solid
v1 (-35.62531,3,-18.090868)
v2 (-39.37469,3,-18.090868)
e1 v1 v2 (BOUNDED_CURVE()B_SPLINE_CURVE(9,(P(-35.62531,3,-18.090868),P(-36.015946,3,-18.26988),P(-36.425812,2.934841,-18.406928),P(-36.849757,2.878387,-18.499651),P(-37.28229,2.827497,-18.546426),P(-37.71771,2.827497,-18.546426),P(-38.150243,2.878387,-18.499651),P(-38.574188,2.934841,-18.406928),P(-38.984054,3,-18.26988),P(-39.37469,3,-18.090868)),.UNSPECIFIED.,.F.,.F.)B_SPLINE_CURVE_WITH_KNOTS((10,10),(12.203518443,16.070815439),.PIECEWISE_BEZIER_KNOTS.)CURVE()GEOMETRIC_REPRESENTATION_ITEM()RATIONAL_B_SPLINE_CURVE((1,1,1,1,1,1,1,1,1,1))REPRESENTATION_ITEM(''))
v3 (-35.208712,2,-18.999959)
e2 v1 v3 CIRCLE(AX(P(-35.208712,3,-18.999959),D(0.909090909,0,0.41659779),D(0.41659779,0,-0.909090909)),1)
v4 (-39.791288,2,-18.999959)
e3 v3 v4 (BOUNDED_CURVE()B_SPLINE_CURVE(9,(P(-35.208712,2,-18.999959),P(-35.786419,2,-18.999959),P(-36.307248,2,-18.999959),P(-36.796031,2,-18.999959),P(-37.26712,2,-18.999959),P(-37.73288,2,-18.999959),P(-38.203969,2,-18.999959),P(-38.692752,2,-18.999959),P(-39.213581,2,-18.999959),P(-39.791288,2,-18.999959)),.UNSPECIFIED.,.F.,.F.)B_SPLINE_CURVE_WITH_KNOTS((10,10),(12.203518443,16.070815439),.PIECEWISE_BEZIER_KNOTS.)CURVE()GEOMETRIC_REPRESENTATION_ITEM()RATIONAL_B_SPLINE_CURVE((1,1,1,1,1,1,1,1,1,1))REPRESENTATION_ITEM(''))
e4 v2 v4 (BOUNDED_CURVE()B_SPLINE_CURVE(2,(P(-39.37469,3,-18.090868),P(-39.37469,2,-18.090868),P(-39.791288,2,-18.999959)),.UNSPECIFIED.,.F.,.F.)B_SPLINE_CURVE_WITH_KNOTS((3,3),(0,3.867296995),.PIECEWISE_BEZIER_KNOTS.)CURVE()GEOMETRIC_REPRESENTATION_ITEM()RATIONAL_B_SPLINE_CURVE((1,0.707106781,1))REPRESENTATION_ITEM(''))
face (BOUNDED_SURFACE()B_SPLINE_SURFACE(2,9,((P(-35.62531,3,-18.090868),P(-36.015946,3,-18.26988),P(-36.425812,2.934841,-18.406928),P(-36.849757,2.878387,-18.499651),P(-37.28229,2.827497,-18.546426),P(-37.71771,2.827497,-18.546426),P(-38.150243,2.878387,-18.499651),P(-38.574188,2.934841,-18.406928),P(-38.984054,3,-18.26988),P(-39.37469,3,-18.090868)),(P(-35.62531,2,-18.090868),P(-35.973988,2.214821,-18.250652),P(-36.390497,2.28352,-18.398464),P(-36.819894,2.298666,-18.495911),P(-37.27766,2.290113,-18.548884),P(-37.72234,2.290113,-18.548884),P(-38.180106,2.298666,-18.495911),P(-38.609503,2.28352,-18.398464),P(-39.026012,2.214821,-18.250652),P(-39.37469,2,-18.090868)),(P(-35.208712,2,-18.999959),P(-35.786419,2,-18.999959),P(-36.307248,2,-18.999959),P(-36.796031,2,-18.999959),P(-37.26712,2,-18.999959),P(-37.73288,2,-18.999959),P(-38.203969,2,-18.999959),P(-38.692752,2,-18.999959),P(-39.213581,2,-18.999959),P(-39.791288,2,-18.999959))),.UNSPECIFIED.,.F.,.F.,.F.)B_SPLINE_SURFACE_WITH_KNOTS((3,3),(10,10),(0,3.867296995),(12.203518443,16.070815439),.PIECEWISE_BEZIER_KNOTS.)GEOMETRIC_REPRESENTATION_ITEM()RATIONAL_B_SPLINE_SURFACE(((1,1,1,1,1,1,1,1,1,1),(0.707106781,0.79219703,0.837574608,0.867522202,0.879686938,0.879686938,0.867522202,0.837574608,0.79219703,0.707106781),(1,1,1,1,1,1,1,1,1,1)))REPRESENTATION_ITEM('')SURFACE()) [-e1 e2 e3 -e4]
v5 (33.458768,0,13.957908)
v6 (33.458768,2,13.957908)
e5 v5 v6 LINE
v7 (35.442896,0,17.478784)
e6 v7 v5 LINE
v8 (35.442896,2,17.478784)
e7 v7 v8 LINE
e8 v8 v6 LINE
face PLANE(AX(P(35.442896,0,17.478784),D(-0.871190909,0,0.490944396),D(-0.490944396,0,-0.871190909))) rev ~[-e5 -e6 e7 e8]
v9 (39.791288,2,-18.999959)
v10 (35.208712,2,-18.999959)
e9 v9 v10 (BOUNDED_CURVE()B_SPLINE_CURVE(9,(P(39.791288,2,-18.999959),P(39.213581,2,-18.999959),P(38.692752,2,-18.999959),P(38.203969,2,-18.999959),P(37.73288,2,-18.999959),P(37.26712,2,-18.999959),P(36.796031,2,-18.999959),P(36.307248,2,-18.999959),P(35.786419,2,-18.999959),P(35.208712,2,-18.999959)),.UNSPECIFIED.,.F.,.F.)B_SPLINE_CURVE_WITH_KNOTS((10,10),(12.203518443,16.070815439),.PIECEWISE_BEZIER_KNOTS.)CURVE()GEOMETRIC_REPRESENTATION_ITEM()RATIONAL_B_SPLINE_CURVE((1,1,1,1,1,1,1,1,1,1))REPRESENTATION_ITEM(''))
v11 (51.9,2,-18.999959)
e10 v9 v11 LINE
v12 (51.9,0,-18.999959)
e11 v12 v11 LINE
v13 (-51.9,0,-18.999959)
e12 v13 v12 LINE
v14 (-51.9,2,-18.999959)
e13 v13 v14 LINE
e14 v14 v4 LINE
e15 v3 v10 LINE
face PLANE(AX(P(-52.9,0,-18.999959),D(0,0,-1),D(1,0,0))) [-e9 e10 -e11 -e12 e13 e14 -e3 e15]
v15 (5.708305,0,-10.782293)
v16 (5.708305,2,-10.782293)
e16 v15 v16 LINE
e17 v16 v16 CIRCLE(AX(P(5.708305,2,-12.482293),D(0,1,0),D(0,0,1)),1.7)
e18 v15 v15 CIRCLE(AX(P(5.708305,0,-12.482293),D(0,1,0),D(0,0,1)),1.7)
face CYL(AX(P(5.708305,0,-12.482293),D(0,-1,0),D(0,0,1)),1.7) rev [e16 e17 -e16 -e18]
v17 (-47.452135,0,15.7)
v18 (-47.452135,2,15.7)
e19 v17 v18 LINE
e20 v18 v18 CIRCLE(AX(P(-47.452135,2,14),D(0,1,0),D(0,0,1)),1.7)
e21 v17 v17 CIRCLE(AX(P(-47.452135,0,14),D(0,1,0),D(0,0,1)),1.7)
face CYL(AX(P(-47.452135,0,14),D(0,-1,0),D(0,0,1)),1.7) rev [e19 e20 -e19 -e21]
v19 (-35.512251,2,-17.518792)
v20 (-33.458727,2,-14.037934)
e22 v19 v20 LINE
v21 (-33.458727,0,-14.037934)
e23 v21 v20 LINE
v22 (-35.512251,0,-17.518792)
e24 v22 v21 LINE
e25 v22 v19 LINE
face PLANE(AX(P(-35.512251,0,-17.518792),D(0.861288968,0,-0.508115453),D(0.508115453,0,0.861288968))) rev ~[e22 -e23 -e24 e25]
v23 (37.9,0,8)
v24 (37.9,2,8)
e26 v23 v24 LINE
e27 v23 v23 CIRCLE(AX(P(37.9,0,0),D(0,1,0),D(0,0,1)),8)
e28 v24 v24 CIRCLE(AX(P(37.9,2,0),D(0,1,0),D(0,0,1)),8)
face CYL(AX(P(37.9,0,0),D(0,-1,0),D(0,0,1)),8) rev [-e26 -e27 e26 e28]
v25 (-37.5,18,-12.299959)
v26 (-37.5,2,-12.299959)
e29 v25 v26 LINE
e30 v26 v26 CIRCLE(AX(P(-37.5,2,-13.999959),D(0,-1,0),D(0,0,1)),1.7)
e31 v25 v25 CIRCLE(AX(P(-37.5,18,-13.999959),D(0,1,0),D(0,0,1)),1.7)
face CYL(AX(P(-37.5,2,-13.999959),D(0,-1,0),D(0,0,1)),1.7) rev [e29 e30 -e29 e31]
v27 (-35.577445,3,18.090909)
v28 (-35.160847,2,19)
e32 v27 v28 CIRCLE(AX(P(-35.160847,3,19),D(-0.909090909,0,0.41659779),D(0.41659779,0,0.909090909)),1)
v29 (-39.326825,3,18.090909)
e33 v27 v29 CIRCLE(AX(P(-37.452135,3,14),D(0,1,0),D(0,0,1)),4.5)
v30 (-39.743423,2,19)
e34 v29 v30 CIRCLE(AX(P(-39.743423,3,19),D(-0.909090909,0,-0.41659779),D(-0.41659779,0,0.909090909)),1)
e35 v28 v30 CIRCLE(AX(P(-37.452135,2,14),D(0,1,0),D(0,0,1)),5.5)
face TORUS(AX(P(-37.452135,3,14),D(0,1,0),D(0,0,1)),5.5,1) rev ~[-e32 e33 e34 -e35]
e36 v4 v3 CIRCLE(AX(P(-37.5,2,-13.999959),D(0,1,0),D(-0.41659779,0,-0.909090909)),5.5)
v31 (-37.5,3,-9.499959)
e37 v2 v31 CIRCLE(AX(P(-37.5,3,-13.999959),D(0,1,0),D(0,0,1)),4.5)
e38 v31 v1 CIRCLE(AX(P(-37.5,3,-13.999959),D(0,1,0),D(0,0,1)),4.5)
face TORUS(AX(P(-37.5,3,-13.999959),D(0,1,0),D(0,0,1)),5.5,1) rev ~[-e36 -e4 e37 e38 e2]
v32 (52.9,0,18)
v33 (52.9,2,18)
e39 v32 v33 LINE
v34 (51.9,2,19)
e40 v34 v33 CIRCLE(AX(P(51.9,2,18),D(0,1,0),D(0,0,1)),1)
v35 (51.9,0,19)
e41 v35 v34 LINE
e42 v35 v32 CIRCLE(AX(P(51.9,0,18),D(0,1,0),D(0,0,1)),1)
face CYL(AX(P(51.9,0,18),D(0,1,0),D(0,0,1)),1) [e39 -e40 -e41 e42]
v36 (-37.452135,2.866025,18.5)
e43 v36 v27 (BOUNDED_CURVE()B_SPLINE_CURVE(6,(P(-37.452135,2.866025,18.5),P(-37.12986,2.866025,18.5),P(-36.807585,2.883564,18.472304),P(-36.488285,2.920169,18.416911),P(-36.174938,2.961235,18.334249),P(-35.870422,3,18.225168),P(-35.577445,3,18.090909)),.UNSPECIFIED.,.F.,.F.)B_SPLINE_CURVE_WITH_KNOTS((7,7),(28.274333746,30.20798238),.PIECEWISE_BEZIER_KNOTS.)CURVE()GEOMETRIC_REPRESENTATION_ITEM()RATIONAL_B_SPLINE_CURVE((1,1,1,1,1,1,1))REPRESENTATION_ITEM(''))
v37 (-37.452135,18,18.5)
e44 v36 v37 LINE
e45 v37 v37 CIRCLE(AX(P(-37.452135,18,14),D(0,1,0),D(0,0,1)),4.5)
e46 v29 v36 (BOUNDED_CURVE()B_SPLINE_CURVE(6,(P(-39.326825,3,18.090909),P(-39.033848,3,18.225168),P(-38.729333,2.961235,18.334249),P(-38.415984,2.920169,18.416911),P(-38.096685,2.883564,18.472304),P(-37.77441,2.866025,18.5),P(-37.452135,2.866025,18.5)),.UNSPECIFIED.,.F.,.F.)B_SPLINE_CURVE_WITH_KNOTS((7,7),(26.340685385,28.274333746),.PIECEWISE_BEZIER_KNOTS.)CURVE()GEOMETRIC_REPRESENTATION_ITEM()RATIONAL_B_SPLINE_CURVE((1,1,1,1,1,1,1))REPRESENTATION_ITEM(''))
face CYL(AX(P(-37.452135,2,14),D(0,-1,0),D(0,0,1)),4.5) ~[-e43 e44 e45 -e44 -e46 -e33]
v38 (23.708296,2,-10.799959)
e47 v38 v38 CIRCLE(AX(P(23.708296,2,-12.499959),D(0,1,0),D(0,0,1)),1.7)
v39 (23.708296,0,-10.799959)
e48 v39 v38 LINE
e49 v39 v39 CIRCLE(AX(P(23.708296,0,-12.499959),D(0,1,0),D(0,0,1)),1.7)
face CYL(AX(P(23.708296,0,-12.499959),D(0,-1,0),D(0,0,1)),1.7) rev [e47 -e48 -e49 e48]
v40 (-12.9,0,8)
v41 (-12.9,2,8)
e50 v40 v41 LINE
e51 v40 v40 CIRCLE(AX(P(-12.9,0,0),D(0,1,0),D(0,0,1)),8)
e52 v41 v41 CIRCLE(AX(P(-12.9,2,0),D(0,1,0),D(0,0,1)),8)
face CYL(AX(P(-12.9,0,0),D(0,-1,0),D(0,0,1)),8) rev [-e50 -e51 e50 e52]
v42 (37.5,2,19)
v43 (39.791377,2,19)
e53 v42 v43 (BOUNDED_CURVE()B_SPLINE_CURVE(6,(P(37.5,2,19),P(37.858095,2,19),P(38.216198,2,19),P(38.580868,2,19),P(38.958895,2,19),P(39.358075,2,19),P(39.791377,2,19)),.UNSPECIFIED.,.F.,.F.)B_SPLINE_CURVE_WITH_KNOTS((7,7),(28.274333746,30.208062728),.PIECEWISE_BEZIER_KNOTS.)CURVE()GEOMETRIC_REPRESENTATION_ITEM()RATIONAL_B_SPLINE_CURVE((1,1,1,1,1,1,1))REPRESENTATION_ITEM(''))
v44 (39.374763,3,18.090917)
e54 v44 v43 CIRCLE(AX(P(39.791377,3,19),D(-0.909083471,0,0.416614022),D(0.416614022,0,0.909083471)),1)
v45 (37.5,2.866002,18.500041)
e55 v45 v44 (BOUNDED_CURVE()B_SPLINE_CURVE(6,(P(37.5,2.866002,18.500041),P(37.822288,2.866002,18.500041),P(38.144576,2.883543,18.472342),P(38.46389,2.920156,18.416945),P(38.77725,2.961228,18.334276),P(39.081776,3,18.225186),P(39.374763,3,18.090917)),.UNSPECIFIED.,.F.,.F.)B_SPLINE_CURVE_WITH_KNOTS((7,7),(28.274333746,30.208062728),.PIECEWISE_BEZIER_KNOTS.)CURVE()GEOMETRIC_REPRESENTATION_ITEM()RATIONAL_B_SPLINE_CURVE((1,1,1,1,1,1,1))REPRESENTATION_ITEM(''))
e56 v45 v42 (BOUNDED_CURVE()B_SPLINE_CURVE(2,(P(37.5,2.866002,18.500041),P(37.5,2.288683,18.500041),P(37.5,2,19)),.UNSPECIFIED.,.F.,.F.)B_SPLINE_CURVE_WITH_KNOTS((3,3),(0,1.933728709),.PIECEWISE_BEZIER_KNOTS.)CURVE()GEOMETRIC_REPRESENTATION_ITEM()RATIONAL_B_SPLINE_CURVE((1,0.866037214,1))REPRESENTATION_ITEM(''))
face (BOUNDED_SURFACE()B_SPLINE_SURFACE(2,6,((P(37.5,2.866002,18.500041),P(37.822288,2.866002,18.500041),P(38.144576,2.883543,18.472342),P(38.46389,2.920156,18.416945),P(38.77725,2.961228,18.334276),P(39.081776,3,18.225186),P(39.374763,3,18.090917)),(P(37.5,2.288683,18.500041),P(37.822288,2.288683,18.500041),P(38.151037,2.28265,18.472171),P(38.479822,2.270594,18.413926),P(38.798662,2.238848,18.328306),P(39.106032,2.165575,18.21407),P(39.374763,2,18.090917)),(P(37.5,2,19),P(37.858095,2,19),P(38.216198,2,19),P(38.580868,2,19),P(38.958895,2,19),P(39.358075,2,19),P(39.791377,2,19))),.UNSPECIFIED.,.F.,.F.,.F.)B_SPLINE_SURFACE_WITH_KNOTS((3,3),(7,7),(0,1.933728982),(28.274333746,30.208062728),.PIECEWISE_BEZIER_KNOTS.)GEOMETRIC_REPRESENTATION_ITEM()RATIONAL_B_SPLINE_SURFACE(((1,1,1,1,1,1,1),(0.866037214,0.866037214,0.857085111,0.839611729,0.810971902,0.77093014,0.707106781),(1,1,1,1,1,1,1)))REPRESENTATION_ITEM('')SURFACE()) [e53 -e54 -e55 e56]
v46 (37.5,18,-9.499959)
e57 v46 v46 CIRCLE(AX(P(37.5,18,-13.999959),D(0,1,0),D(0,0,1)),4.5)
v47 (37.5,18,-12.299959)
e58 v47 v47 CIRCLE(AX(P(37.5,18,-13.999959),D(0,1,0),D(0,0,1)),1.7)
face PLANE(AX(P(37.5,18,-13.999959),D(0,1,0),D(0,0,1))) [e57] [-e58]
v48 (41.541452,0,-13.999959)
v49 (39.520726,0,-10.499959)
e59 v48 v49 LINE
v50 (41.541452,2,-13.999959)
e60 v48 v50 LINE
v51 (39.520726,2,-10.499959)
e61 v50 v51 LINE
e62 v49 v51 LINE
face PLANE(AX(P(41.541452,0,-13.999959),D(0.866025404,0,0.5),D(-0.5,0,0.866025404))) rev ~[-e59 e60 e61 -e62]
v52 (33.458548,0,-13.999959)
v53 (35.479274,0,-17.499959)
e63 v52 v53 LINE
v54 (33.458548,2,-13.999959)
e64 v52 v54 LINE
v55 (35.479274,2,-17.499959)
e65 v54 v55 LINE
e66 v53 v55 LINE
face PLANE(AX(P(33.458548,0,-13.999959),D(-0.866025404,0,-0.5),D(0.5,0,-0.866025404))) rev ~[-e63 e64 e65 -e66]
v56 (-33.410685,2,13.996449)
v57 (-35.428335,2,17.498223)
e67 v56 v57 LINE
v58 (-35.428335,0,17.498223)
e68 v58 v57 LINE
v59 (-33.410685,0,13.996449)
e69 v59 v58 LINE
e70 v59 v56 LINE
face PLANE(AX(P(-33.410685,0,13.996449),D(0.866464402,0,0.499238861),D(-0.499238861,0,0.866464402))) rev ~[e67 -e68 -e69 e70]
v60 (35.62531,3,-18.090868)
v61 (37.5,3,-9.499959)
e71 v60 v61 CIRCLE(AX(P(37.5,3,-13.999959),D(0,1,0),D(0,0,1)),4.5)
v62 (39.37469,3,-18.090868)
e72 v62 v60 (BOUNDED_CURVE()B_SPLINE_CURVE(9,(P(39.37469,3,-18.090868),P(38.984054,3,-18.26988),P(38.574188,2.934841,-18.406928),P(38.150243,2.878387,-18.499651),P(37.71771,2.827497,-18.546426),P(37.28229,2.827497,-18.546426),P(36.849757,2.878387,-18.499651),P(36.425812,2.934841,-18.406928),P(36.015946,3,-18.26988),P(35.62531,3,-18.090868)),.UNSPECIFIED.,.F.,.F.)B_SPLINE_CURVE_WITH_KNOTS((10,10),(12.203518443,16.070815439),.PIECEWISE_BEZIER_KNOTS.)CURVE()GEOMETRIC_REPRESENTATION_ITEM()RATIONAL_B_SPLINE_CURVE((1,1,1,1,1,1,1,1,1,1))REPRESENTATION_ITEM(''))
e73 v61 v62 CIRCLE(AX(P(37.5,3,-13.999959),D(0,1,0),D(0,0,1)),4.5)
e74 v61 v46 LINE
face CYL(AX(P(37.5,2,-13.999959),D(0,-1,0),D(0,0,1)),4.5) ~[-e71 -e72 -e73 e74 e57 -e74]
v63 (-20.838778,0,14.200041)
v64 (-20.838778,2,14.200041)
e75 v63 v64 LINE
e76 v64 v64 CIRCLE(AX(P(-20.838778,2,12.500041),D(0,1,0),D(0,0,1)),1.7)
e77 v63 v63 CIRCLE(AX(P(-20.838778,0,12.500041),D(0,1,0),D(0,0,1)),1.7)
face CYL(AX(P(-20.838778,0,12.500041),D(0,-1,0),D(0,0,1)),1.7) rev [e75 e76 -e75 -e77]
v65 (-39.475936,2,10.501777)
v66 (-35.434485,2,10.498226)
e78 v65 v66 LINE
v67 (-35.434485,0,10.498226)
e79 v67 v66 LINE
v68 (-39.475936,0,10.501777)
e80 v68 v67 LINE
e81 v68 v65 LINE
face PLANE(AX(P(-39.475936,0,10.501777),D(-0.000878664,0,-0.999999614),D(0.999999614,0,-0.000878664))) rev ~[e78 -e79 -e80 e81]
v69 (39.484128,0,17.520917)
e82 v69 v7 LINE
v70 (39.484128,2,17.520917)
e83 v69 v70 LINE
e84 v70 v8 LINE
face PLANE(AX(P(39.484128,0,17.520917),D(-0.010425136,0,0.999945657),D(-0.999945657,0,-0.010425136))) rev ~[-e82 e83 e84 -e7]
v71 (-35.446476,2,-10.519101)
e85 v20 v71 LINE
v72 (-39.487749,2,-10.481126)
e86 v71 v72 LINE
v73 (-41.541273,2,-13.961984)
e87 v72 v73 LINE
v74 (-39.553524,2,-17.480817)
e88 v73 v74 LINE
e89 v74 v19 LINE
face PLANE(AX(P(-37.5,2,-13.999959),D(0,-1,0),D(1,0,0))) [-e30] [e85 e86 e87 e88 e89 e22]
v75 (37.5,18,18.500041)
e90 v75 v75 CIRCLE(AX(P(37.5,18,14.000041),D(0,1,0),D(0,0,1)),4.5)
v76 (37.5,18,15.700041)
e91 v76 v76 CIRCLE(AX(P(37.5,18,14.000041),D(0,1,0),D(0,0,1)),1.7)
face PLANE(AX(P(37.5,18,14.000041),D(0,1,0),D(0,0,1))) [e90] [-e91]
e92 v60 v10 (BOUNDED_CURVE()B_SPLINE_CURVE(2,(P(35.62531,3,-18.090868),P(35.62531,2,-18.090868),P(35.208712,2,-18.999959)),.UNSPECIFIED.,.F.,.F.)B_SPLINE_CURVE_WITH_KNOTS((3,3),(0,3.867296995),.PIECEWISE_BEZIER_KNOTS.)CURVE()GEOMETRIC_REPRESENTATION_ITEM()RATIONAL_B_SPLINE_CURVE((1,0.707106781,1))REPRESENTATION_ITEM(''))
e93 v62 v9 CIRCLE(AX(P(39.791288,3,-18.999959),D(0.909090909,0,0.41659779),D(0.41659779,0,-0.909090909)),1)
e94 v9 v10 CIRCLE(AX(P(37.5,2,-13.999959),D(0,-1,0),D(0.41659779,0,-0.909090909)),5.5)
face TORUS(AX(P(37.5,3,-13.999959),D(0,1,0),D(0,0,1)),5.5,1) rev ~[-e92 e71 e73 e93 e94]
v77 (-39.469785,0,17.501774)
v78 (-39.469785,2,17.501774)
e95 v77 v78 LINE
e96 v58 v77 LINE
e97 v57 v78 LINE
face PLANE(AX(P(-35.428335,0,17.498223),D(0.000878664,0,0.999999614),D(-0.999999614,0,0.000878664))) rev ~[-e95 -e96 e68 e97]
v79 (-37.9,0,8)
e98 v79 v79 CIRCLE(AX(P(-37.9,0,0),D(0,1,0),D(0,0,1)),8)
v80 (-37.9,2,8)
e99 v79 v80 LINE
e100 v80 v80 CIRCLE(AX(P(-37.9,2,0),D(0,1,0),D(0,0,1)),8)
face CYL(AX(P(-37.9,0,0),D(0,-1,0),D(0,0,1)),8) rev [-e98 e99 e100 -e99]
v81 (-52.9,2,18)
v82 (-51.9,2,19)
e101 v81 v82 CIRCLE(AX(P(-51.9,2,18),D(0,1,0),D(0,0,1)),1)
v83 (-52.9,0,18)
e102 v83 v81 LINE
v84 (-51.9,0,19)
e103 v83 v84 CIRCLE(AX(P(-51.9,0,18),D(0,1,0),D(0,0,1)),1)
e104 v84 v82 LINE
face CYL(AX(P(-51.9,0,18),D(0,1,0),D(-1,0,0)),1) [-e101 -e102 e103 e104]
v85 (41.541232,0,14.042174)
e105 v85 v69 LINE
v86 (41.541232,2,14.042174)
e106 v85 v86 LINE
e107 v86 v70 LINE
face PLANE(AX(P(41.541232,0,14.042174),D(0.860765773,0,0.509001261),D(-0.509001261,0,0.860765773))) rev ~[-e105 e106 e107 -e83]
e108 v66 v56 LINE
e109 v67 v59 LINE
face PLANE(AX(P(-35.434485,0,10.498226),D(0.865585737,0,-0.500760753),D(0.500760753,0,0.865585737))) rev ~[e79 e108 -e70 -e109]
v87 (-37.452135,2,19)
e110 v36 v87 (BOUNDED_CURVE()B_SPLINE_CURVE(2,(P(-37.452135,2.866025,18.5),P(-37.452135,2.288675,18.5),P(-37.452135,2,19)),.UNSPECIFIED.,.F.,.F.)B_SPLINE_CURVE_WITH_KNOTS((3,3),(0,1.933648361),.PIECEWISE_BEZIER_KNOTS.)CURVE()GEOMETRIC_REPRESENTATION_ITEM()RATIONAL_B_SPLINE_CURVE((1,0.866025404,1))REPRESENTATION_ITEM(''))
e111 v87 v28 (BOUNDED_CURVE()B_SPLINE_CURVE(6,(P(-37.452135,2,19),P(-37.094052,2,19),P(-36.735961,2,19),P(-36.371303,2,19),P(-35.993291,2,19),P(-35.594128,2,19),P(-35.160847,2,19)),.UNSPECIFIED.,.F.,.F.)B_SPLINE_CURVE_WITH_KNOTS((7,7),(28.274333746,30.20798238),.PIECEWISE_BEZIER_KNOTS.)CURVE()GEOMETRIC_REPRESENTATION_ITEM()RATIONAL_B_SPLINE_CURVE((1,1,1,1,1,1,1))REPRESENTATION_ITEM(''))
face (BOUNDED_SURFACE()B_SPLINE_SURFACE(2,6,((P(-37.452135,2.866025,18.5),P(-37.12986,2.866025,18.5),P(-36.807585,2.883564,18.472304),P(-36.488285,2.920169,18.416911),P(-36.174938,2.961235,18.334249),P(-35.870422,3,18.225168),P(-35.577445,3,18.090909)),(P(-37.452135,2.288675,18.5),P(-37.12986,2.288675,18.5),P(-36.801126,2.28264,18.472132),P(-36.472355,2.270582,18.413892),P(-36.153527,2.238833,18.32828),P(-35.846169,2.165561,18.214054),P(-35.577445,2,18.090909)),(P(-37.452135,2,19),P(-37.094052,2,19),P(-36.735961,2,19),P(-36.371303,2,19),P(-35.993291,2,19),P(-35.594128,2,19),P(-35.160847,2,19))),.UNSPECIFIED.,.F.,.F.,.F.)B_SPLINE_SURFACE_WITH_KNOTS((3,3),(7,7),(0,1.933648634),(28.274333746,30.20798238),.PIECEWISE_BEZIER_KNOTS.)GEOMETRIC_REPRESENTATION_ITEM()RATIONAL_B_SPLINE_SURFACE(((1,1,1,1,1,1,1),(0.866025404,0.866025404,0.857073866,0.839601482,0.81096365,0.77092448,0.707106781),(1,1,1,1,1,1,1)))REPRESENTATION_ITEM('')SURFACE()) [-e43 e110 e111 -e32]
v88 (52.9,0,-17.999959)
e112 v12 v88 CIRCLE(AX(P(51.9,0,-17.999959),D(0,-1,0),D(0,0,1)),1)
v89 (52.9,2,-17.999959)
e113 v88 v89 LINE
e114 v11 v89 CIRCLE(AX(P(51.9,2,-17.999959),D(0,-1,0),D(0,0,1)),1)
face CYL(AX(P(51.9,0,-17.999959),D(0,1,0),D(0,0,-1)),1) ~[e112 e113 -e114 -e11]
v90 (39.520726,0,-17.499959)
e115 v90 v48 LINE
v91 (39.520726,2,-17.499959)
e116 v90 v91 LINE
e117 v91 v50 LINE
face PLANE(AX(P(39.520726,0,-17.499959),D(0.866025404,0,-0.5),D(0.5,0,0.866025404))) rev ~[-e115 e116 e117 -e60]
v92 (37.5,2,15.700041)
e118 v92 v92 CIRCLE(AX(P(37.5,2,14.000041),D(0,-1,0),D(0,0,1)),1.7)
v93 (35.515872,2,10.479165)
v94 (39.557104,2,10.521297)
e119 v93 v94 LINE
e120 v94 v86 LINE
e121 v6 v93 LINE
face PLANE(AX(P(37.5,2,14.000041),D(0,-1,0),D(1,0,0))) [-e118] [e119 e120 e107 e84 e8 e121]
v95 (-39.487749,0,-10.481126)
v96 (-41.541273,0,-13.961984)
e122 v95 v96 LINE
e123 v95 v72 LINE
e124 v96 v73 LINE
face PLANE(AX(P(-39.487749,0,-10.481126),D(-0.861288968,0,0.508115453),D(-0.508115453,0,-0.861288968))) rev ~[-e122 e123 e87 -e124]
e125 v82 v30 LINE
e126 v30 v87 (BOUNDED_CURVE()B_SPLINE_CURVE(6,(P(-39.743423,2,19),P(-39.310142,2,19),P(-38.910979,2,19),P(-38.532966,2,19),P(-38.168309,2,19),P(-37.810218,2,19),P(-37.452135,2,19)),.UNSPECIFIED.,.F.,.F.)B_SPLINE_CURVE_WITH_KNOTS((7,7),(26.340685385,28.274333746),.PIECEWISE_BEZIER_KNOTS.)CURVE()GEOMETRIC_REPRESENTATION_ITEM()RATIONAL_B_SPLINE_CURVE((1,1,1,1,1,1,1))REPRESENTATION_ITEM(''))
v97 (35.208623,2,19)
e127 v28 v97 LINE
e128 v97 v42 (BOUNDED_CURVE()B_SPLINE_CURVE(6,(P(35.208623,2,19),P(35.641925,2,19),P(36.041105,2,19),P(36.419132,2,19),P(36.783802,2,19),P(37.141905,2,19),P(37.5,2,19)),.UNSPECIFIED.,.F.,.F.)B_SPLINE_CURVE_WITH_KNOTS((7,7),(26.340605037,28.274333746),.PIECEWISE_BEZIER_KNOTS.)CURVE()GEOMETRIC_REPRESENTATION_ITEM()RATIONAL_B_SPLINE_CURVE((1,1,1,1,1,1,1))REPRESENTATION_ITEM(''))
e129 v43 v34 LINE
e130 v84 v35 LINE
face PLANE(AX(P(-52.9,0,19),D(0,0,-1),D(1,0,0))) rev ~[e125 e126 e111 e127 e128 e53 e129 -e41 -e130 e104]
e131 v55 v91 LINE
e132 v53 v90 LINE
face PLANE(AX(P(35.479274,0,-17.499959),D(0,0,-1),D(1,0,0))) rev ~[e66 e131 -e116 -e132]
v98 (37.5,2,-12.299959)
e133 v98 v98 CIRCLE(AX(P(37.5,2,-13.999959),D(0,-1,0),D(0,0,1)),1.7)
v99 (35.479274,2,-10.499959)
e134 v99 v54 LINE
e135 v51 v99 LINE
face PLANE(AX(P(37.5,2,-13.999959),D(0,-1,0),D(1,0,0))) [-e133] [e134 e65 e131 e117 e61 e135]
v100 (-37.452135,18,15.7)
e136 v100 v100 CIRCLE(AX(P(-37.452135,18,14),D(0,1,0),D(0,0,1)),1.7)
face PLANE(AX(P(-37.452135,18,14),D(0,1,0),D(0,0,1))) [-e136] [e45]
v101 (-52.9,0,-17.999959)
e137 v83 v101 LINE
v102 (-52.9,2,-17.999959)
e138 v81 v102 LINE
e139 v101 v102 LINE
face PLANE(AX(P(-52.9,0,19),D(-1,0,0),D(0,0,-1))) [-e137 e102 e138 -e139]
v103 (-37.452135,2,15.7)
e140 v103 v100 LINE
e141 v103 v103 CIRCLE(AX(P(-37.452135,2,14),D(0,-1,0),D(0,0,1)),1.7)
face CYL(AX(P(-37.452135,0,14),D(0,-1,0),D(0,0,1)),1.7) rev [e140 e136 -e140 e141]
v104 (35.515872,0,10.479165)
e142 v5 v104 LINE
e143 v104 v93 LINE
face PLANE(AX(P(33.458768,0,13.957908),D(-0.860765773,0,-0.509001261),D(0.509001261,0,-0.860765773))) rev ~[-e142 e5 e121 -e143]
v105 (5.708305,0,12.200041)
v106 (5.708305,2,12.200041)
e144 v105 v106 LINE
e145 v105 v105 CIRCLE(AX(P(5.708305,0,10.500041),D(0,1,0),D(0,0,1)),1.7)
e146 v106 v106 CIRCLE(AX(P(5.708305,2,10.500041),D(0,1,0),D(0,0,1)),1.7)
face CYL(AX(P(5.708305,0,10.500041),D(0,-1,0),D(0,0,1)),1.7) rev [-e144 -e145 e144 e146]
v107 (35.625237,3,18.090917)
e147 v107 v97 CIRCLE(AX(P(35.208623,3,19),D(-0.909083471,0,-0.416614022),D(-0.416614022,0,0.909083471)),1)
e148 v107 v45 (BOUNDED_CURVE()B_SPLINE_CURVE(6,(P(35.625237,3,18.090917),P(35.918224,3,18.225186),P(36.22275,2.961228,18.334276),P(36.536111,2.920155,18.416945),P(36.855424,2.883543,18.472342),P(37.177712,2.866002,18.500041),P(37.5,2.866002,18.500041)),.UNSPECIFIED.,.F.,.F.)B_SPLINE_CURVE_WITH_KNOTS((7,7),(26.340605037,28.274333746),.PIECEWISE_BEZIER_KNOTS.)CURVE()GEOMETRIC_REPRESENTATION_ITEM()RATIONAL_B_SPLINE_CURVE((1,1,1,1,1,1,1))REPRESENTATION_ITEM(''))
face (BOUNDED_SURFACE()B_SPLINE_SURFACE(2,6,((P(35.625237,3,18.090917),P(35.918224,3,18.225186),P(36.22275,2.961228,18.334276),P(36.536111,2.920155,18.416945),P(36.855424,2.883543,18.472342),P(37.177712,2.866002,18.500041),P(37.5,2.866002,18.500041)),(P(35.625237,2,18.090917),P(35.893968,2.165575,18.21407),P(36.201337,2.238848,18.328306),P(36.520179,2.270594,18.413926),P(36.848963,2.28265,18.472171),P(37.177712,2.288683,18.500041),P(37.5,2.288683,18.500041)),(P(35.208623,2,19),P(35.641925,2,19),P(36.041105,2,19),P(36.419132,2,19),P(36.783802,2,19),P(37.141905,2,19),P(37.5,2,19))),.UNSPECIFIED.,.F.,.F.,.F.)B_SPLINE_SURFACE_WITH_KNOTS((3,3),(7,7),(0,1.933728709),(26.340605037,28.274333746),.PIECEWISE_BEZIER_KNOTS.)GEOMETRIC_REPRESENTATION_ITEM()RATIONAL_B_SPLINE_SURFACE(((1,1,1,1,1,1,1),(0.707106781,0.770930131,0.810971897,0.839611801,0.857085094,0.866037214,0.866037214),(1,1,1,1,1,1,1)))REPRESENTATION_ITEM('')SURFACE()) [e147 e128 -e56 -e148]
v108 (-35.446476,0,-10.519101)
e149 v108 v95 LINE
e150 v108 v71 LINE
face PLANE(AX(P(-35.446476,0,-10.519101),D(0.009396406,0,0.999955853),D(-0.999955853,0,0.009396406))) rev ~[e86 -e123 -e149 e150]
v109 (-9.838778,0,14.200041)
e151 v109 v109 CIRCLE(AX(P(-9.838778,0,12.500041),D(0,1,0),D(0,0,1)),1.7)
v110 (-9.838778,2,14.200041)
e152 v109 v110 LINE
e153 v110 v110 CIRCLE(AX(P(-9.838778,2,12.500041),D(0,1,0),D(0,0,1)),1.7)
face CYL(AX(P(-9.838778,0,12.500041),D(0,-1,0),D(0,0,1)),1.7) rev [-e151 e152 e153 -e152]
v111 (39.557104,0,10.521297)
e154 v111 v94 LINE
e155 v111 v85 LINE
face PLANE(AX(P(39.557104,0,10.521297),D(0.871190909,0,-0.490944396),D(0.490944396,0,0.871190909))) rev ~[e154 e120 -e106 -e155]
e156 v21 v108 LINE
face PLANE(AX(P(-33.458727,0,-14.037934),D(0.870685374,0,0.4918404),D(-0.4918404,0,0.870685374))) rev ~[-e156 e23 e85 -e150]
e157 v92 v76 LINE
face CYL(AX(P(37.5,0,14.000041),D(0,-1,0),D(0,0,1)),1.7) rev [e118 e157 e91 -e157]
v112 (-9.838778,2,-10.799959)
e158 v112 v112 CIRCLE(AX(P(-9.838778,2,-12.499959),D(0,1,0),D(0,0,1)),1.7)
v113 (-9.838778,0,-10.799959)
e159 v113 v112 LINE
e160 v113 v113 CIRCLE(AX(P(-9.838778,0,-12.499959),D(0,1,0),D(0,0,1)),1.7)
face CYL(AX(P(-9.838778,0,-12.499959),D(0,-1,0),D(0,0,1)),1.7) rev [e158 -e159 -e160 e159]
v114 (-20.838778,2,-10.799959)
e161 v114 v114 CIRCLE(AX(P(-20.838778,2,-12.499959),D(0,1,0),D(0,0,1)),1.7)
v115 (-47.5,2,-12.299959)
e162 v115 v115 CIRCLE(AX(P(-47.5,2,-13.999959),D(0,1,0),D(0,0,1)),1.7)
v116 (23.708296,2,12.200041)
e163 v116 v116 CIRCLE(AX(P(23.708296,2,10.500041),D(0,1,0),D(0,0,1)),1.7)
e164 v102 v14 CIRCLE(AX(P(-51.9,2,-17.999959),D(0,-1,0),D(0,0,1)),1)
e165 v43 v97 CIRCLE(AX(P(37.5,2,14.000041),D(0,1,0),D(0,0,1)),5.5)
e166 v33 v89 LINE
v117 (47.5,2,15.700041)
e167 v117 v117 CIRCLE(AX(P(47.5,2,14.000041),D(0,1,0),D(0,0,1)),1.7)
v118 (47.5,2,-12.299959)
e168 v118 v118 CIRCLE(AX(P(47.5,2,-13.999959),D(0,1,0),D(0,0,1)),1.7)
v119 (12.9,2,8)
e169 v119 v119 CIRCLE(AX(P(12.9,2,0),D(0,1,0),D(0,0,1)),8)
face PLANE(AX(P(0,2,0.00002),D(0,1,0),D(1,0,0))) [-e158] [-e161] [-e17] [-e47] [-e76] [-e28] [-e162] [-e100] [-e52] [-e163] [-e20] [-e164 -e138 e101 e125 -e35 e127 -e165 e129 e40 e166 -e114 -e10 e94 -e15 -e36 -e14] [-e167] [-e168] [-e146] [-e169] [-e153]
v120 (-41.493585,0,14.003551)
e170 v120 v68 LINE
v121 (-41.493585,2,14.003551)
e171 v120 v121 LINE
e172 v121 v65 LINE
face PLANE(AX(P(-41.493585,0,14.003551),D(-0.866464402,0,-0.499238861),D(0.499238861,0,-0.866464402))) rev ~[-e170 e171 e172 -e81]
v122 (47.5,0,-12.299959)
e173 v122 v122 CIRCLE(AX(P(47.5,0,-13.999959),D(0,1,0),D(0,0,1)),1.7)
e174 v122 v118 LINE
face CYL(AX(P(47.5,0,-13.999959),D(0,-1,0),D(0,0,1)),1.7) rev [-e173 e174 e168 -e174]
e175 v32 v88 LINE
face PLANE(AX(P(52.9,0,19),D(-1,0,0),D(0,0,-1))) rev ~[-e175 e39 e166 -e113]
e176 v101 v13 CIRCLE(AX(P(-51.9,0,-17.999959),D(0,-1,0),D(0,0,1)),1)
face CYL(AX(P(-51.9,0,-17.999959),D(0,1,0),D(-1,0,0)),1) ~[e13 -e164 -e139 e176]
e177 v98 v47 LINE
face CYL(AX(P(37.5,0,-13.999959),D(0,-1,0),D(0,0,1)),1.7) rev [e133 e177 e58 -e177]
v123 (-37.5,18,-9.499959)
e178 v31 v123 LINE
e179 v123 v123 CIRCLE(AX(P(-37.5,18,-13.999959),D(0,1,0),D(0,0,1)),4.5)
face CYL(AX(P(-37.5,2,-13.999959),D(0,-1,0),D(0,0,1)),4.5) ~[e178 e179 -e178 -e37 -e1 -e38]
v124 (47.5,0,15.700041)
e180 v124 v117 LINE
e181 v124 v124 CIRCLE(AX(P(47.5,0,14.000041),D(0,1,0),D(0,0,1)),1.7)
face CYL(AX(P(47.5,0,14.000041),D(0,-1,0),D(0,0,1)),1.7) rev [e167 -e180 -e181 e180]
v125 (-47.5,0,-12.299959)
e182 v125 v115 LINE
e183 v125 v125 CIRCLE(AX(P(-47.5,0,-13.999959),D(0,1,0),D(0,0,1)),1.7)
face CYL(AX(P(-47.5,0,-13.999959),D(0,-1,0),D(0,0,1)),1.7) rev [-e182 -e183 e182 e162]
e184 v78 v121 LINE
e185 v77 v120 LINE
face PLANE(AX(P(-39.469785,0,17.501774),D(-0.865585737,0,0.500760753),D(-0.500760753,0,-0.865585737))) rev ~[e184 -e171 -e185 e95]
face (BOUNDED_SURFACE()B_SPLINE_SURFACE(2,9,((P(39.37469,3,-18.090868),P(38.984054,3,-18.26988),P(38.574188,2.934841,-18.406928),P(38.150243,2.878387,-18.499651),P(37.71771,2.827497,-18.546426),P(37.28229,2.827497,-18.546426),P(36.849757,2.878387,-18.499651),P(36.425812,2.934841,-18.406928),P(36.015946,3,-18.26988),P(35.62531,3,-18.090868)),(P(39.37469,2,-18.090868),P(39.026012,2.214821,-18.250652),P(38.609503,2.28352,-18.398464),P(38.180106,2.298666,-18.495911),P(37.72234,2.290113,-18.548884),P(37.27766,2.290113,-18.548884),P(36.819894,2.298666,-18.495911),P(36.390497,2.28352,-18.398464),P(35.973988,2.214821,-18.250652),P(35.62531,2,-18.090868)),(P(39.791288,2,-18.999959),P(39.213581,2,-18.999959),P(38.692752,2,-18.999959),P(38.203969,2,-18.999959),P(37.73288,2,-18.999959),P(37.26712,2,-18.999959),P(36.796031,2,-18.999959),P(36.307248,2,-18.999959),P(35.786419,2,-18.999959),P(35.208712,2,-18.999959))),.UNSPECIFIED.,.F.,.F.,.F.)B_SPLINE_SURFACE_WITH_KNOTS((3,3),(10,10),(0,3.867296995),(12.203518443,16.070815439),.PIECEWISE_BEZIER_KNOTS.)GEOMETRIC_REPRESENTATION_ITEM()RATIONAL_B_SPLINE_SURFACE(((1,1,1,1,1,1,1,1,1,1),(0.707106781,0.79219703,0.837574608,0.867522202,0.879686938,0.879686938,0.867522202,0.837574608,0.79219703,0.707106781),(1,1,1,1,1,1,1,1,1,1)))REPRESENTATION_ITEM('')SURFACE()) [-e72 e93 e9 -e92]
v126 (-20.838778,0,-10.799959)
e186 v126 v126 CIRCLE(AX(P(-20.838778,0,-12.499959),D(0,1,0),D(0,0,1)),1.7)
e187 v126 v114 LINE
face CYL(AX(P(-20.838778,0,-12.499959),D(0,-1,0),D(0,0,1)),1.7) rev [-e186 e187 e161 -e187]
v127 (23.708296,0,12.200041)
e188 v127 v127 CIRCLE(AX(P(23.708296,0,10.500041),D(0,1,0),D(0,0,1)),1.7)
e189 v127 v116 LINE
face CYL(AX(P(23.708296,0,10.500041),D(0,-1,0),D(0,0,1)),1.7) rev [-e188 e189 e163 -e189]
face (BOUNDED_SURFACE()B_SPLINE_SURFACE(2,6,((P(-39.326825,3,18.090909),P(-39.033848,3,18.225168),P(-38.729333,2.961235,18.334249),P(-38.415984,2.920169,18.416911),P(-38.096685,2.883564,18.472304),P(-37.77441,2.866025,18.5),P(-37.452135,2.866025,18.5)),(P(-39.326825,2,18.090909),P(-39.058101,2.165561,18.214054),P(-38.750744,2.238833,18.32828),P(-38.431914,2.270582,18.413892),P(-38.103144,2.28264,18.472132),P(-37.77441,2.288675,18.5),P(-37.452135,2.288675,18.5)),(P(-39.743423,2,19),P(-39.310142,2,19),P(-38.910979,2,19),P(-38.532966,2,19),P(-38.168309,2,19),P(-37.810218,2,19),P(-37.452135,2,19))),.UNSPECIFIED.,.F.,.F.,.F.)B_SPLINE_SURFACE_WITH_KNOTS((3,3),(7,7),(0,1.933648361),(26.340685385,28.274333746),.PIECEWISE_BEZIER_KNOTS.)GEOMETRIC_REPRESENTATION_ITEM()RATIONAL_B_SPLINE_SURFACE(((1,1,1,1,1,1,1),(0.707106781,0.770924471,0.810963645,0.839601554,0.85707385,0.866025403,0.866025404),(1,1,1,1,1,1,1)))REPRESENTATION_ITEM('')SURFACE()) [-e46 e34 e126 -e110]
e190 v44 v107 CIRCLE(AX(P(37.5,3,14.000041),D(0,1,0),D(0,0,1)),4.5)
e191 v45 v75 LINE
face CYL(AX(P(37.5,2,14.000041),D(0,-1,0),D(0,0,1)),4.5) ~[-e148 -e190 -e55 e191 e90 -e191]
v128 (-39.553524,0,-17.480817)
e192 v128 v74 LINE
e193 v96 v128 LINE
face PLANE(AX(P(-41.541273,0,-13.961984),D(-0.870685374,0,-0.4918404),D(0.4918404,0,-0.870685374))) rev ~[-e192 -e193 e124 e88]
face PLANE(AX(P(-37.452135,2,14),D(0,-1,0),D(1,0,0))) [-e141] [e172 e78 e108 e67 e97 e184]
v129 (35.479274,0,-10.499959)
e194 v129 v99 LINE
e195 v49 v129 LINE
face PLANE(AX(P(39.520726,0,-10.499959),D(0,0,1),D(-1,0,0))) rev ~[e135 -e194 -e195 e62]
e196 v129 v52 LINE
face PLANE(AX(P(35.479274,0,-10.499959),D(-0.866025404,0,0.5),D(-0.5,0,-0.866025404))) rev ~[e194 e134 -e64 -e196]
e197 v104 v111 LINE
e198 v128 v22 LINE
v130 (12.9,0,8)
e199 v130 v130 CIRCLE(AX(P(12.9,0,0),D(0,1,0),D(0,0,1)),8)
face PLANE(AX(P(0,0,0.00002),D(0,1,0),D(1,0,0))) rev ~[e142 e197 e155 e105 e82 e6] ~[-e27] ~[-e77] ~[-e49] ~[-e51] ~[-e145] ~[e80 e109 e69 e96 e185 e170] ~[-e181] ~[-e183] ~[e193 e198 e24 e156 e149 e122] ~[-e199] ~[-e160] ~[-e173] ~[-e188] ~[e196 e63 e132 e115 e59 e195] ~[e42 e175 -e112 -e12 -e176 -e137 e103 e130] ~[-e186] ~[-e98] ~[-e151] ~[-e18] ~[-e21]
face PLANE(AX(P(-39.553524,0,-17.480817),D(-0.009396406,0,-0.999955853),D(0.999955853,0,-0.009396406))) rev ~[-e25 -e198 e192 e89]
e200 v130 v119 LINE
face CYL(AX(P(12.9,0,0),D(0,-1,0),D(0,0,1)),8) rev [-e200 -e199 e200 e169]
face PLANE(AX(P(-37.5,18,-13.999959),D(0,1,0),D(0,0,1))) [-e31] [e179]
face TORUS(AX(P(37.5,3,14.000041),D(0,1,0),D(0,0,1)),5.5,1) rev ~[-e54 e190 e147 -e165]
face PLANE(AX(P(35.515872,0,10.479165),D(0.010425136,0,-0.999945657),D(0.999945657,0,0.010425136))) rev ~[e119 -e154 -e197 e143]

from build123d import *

# Parameters (mm, degrees)
SKETCH1_W           = 105.8
SKETCH1_H           = 37.999959088
SKETCH1_R           = 1.7
SKETCH1_R_2         = 8
BOSS_EXTRUDE3_DEPTH = 2
FILLET1_R           = 1
SKETCH4_R           = 4.5
SKETCH4_R_2         = 1.7
BOSS_EXTRUDE4_DEPTH = 16
FILLET2_R           = 1
CUT_EXTRUDE1_DEPTH  = 2


with BuildPart() as part:
    # Sketch1 → Boss-Extrude3 (new body)
    with BuildSketch(Plane(origin=(0, 0, 0), x_dir=(1, 0, 0), z_dir=(0, 1, 0))):
        with Locations((0, -2.0456e-05)):
            Rectangle(SKETCH1_W, SKETCH1_H)
        with Locations(Location((-47.5, 13.999959088, 0), (0, 0, 270))):
            Circle(SKETCH1_R, mode=Mode.SUBTRACT)
        with Locations(Location((-47.45213511, -14, 0), (0, 0, 270))):
            Circle(SKETCH1_R, mode=Mode.SUBTRACT)
        with Locations(Location((47.5, 13.999959088, 0), (0, 0, 270))):
            Circle(SKETCH1_R, mode=Mode.SUBTRACT)
        with Locations(Location((47.5, -14.000040912, 0), (0, 0, 270))):
            Circle(SKETCH1_R, mode=Mode.SUBTRACT)
        with Locations(Location((-20.838777713, 12.499959088, 0), (0, 0, 270))):
            Circle(SKETCH1_R, mode=Mode.SUBTRACT)
        with Locations(Location((-20.838777713, -12.500040912, 0), (0, 0, 270))):
            Circle(SKETCH1_R, mode=Mode.SUBTRACT)
        with Locations(Location((-9.838777713, 12.499959088, 0), (0, 0, 270))):
            Circle(SKETCH1_R, mode=Mode.SUBTRACT)
        with Locations(Location((-9.838777713, -12.500040912, 0), (0, 0, 270))):
            Circle(SKETCH1_R, mode=Mode.SUBTRACT)
        with Locations(Location((5.708304913, 12.482293054, 0), (0, 0, 270))):
            Circle(SKETCH1_R, mode=Mode.SUBTRACT)
        with Locations(Location((5.708304913, -10.500040912, 0), (0, 0, 270))):
            Circle(SKETCH1_R, mode=Mode.SUBTRACT)
        with Locations(Location((23.708296244, 12.499959088, 0), (0, 0, 270))):
            Circle(SKETCH1_R, mode=Mode.SUBTRACT)
        with Locations(Location((23.708296244, -10.500040912, 0), (0, 0, 270))):
            Circle(SKETCH1_R, mode=Mode.SUBTRACT)
        with Locations(Location((-37.5, 13.999959088, 0), (0, 0, 270))):
            Circle(SKETCH1_R, mode=Mode.SUBTRACT)
        with Locations(Location((-37.45213511, -14, 0), (0, 0, 270))):
            Circle(SKETCH1_R, mode=Mode.SUBTRACT)
        with Locations(Location((37.5, 13.999959088, 0), (0, 0, 270))):
            Circle(SKETCH1_R, mode=Mode.SUBTRACT)
        with Locations(Location((37.5, -14.000040912, 0), (0, 0, 270))):
            Circle(SKETCH1_R, mode=Mode.SUBTRACT)
        with Locations(Location((-37.9, 0, 0), (0, 0, 270))):
            Circle(SKETCH1_R_2, mode=Mode.SUBTRACT)
        with Locations(Location((-12.9, 0, 0), (0, 0, 270))):
            Circle(SKETCH1_R_2, mode=Mode.SUBTRACT)
        with Locations(Location((37.9, 0, 0), (0, 0, 270))):
            Circle(SKETCH1_R_2, mode=Mode.SUBTRACT)
        with Locations(Location((12.9, 0, 0), (0, 0, 270))):
            Circle(SKETCH1_R_2, mode=Mode.SUBTRACT)
    extrude(amount=BOSS_EXTRUDE3_DEPTH)

    # Fillet1
    fillet1_edges = [part.edges().sort_by_distance(p)[0] for p in [
        (-52.9, 1, -18.999959088),
        (52.9, 1, -18.999959088),
        (52.9, 1, 19),
        (-52.9, 1, 19),
    ]]
    fillet(fillet1_edges, radius=FILLET1_R)

    # Sketch4 → Boss-Extrude4 (add)
    # profile 1 of 4: a face of its own
    with BuildSketch(Plane(origin=(0, 2, 0), x_dir=(1, 0, 0), z_dir=(0, 1, 0))):
        with Locations(Location((-37.5, 13.999959088, 0), (0, 0, 270))):
            Circle(SKETCH4_R)
        with Locations(Location((-37.5, 13.999959088, 0), (0, 0, 270))):
            Circle(SKETCH4_R_2, mode=Mode.SUBTRACT)
    # profile 2 of 4: a face of its own
    with BuildSketch(Plane(origin=(0, 2, 0), x_dir=(1, 0, 0), z_dir=(0, 1, 0))):
        with Locations(Location((-37.45213511, -14, 0), (0, 0, 270))):
            Circle(SKETCH4_R)
        with Locations(Location((-37.45213511, -14, 0), (0, 0, 270))):
            Circle(SKETCH4_R_2, mode=Mode.SUBTRACT)
    # profile 3 of 4: a face of its own
    with BuildSketch(Plane(origin=(0, 2, 0), x_dir=(1, 0, 0), z_dir=(0, 1, 0))):
        with Locations(Location((37.5, 13.999959088, 0), (0, 0, 270))):
            Circle(SKETCH4_R)
        with Locations(Location((37.5, 13.999959088, 0), (0, 0, 270))):
            Circle(SKETCH4_R_2, mode=Mode.SUBTRACT)
    # profile 4 of 4: a face of its own
    with BuildSketch(Plane(origin=(0, 2, 0), x_dir=(1, 0, 0), z_dir=(0, 1, 0))):
        with Locations(Location((37.5, -14.000040912, 0), (0, 0, 270))):
            Circle(SKETCH4_R)
        with Locations(Location((37.5, -14.000040912, 0), (0, 0, 270))):
            Circle(SKETCH4_R_2, mode=Mode.SUBTRACT)
    extrude(amount=BOSS_EXTRUDE4_DEPTH)

    # Fillet2
    fillet2_edges = [part.edges().sort_by_distance(p)[0] for p in [
        (-37.5, 2, -18.499959088),
        (-37.45213511, 2, 9.5),
        (37.5, 2, -18.499959088),
        (37.5, 2, 9.500040912),
    ]]
    fillet(fillet2_edges, radius=FILLET2_R)

    # Sketch7 → Cut-Extrude1 (cut)
    with BuildSketch(Plane.XZ):
        Polygon((-39.475935598, 10.501776891), (-35.434485274, 10.498225811), (-33.410684786, 13.99644892), (-35.428334623, 17.498223109), (-39.469784947, 17.501774189), (-41.493585435, 14.00355108), align=None)
        Polygon((-39.553524155, -17.480817011), (-35.512250689, -17.518792135), (-33.458726534, -14.037934212), (-35.446475845, -10.519101166), (-39.487749311, -10.481126042), (-41.541273466, -13.961983965), align=None)
        Polygon((39.557104105, 10.521297455), (41.541232259, 14.042173596), (39.484128154, 17.520917053), (35.442895895, 17.478784368), (33.458767741, 13.957908227), (35.515871846, 10.479164771), align=None)
        Polygon((41.541451884, -13.999959088), (39.520725942, -10.499959088), (35.479274058, -10.499959088), (33.458548116, -13.999959088), (35.479274058, -17.499959088), (39.520725942, -17.499959088), align=None)
    extrude(amount=-CUT_EXTRUDE1_DEPTH, mode=Mode.SUBTRACT)


solid = part.part
